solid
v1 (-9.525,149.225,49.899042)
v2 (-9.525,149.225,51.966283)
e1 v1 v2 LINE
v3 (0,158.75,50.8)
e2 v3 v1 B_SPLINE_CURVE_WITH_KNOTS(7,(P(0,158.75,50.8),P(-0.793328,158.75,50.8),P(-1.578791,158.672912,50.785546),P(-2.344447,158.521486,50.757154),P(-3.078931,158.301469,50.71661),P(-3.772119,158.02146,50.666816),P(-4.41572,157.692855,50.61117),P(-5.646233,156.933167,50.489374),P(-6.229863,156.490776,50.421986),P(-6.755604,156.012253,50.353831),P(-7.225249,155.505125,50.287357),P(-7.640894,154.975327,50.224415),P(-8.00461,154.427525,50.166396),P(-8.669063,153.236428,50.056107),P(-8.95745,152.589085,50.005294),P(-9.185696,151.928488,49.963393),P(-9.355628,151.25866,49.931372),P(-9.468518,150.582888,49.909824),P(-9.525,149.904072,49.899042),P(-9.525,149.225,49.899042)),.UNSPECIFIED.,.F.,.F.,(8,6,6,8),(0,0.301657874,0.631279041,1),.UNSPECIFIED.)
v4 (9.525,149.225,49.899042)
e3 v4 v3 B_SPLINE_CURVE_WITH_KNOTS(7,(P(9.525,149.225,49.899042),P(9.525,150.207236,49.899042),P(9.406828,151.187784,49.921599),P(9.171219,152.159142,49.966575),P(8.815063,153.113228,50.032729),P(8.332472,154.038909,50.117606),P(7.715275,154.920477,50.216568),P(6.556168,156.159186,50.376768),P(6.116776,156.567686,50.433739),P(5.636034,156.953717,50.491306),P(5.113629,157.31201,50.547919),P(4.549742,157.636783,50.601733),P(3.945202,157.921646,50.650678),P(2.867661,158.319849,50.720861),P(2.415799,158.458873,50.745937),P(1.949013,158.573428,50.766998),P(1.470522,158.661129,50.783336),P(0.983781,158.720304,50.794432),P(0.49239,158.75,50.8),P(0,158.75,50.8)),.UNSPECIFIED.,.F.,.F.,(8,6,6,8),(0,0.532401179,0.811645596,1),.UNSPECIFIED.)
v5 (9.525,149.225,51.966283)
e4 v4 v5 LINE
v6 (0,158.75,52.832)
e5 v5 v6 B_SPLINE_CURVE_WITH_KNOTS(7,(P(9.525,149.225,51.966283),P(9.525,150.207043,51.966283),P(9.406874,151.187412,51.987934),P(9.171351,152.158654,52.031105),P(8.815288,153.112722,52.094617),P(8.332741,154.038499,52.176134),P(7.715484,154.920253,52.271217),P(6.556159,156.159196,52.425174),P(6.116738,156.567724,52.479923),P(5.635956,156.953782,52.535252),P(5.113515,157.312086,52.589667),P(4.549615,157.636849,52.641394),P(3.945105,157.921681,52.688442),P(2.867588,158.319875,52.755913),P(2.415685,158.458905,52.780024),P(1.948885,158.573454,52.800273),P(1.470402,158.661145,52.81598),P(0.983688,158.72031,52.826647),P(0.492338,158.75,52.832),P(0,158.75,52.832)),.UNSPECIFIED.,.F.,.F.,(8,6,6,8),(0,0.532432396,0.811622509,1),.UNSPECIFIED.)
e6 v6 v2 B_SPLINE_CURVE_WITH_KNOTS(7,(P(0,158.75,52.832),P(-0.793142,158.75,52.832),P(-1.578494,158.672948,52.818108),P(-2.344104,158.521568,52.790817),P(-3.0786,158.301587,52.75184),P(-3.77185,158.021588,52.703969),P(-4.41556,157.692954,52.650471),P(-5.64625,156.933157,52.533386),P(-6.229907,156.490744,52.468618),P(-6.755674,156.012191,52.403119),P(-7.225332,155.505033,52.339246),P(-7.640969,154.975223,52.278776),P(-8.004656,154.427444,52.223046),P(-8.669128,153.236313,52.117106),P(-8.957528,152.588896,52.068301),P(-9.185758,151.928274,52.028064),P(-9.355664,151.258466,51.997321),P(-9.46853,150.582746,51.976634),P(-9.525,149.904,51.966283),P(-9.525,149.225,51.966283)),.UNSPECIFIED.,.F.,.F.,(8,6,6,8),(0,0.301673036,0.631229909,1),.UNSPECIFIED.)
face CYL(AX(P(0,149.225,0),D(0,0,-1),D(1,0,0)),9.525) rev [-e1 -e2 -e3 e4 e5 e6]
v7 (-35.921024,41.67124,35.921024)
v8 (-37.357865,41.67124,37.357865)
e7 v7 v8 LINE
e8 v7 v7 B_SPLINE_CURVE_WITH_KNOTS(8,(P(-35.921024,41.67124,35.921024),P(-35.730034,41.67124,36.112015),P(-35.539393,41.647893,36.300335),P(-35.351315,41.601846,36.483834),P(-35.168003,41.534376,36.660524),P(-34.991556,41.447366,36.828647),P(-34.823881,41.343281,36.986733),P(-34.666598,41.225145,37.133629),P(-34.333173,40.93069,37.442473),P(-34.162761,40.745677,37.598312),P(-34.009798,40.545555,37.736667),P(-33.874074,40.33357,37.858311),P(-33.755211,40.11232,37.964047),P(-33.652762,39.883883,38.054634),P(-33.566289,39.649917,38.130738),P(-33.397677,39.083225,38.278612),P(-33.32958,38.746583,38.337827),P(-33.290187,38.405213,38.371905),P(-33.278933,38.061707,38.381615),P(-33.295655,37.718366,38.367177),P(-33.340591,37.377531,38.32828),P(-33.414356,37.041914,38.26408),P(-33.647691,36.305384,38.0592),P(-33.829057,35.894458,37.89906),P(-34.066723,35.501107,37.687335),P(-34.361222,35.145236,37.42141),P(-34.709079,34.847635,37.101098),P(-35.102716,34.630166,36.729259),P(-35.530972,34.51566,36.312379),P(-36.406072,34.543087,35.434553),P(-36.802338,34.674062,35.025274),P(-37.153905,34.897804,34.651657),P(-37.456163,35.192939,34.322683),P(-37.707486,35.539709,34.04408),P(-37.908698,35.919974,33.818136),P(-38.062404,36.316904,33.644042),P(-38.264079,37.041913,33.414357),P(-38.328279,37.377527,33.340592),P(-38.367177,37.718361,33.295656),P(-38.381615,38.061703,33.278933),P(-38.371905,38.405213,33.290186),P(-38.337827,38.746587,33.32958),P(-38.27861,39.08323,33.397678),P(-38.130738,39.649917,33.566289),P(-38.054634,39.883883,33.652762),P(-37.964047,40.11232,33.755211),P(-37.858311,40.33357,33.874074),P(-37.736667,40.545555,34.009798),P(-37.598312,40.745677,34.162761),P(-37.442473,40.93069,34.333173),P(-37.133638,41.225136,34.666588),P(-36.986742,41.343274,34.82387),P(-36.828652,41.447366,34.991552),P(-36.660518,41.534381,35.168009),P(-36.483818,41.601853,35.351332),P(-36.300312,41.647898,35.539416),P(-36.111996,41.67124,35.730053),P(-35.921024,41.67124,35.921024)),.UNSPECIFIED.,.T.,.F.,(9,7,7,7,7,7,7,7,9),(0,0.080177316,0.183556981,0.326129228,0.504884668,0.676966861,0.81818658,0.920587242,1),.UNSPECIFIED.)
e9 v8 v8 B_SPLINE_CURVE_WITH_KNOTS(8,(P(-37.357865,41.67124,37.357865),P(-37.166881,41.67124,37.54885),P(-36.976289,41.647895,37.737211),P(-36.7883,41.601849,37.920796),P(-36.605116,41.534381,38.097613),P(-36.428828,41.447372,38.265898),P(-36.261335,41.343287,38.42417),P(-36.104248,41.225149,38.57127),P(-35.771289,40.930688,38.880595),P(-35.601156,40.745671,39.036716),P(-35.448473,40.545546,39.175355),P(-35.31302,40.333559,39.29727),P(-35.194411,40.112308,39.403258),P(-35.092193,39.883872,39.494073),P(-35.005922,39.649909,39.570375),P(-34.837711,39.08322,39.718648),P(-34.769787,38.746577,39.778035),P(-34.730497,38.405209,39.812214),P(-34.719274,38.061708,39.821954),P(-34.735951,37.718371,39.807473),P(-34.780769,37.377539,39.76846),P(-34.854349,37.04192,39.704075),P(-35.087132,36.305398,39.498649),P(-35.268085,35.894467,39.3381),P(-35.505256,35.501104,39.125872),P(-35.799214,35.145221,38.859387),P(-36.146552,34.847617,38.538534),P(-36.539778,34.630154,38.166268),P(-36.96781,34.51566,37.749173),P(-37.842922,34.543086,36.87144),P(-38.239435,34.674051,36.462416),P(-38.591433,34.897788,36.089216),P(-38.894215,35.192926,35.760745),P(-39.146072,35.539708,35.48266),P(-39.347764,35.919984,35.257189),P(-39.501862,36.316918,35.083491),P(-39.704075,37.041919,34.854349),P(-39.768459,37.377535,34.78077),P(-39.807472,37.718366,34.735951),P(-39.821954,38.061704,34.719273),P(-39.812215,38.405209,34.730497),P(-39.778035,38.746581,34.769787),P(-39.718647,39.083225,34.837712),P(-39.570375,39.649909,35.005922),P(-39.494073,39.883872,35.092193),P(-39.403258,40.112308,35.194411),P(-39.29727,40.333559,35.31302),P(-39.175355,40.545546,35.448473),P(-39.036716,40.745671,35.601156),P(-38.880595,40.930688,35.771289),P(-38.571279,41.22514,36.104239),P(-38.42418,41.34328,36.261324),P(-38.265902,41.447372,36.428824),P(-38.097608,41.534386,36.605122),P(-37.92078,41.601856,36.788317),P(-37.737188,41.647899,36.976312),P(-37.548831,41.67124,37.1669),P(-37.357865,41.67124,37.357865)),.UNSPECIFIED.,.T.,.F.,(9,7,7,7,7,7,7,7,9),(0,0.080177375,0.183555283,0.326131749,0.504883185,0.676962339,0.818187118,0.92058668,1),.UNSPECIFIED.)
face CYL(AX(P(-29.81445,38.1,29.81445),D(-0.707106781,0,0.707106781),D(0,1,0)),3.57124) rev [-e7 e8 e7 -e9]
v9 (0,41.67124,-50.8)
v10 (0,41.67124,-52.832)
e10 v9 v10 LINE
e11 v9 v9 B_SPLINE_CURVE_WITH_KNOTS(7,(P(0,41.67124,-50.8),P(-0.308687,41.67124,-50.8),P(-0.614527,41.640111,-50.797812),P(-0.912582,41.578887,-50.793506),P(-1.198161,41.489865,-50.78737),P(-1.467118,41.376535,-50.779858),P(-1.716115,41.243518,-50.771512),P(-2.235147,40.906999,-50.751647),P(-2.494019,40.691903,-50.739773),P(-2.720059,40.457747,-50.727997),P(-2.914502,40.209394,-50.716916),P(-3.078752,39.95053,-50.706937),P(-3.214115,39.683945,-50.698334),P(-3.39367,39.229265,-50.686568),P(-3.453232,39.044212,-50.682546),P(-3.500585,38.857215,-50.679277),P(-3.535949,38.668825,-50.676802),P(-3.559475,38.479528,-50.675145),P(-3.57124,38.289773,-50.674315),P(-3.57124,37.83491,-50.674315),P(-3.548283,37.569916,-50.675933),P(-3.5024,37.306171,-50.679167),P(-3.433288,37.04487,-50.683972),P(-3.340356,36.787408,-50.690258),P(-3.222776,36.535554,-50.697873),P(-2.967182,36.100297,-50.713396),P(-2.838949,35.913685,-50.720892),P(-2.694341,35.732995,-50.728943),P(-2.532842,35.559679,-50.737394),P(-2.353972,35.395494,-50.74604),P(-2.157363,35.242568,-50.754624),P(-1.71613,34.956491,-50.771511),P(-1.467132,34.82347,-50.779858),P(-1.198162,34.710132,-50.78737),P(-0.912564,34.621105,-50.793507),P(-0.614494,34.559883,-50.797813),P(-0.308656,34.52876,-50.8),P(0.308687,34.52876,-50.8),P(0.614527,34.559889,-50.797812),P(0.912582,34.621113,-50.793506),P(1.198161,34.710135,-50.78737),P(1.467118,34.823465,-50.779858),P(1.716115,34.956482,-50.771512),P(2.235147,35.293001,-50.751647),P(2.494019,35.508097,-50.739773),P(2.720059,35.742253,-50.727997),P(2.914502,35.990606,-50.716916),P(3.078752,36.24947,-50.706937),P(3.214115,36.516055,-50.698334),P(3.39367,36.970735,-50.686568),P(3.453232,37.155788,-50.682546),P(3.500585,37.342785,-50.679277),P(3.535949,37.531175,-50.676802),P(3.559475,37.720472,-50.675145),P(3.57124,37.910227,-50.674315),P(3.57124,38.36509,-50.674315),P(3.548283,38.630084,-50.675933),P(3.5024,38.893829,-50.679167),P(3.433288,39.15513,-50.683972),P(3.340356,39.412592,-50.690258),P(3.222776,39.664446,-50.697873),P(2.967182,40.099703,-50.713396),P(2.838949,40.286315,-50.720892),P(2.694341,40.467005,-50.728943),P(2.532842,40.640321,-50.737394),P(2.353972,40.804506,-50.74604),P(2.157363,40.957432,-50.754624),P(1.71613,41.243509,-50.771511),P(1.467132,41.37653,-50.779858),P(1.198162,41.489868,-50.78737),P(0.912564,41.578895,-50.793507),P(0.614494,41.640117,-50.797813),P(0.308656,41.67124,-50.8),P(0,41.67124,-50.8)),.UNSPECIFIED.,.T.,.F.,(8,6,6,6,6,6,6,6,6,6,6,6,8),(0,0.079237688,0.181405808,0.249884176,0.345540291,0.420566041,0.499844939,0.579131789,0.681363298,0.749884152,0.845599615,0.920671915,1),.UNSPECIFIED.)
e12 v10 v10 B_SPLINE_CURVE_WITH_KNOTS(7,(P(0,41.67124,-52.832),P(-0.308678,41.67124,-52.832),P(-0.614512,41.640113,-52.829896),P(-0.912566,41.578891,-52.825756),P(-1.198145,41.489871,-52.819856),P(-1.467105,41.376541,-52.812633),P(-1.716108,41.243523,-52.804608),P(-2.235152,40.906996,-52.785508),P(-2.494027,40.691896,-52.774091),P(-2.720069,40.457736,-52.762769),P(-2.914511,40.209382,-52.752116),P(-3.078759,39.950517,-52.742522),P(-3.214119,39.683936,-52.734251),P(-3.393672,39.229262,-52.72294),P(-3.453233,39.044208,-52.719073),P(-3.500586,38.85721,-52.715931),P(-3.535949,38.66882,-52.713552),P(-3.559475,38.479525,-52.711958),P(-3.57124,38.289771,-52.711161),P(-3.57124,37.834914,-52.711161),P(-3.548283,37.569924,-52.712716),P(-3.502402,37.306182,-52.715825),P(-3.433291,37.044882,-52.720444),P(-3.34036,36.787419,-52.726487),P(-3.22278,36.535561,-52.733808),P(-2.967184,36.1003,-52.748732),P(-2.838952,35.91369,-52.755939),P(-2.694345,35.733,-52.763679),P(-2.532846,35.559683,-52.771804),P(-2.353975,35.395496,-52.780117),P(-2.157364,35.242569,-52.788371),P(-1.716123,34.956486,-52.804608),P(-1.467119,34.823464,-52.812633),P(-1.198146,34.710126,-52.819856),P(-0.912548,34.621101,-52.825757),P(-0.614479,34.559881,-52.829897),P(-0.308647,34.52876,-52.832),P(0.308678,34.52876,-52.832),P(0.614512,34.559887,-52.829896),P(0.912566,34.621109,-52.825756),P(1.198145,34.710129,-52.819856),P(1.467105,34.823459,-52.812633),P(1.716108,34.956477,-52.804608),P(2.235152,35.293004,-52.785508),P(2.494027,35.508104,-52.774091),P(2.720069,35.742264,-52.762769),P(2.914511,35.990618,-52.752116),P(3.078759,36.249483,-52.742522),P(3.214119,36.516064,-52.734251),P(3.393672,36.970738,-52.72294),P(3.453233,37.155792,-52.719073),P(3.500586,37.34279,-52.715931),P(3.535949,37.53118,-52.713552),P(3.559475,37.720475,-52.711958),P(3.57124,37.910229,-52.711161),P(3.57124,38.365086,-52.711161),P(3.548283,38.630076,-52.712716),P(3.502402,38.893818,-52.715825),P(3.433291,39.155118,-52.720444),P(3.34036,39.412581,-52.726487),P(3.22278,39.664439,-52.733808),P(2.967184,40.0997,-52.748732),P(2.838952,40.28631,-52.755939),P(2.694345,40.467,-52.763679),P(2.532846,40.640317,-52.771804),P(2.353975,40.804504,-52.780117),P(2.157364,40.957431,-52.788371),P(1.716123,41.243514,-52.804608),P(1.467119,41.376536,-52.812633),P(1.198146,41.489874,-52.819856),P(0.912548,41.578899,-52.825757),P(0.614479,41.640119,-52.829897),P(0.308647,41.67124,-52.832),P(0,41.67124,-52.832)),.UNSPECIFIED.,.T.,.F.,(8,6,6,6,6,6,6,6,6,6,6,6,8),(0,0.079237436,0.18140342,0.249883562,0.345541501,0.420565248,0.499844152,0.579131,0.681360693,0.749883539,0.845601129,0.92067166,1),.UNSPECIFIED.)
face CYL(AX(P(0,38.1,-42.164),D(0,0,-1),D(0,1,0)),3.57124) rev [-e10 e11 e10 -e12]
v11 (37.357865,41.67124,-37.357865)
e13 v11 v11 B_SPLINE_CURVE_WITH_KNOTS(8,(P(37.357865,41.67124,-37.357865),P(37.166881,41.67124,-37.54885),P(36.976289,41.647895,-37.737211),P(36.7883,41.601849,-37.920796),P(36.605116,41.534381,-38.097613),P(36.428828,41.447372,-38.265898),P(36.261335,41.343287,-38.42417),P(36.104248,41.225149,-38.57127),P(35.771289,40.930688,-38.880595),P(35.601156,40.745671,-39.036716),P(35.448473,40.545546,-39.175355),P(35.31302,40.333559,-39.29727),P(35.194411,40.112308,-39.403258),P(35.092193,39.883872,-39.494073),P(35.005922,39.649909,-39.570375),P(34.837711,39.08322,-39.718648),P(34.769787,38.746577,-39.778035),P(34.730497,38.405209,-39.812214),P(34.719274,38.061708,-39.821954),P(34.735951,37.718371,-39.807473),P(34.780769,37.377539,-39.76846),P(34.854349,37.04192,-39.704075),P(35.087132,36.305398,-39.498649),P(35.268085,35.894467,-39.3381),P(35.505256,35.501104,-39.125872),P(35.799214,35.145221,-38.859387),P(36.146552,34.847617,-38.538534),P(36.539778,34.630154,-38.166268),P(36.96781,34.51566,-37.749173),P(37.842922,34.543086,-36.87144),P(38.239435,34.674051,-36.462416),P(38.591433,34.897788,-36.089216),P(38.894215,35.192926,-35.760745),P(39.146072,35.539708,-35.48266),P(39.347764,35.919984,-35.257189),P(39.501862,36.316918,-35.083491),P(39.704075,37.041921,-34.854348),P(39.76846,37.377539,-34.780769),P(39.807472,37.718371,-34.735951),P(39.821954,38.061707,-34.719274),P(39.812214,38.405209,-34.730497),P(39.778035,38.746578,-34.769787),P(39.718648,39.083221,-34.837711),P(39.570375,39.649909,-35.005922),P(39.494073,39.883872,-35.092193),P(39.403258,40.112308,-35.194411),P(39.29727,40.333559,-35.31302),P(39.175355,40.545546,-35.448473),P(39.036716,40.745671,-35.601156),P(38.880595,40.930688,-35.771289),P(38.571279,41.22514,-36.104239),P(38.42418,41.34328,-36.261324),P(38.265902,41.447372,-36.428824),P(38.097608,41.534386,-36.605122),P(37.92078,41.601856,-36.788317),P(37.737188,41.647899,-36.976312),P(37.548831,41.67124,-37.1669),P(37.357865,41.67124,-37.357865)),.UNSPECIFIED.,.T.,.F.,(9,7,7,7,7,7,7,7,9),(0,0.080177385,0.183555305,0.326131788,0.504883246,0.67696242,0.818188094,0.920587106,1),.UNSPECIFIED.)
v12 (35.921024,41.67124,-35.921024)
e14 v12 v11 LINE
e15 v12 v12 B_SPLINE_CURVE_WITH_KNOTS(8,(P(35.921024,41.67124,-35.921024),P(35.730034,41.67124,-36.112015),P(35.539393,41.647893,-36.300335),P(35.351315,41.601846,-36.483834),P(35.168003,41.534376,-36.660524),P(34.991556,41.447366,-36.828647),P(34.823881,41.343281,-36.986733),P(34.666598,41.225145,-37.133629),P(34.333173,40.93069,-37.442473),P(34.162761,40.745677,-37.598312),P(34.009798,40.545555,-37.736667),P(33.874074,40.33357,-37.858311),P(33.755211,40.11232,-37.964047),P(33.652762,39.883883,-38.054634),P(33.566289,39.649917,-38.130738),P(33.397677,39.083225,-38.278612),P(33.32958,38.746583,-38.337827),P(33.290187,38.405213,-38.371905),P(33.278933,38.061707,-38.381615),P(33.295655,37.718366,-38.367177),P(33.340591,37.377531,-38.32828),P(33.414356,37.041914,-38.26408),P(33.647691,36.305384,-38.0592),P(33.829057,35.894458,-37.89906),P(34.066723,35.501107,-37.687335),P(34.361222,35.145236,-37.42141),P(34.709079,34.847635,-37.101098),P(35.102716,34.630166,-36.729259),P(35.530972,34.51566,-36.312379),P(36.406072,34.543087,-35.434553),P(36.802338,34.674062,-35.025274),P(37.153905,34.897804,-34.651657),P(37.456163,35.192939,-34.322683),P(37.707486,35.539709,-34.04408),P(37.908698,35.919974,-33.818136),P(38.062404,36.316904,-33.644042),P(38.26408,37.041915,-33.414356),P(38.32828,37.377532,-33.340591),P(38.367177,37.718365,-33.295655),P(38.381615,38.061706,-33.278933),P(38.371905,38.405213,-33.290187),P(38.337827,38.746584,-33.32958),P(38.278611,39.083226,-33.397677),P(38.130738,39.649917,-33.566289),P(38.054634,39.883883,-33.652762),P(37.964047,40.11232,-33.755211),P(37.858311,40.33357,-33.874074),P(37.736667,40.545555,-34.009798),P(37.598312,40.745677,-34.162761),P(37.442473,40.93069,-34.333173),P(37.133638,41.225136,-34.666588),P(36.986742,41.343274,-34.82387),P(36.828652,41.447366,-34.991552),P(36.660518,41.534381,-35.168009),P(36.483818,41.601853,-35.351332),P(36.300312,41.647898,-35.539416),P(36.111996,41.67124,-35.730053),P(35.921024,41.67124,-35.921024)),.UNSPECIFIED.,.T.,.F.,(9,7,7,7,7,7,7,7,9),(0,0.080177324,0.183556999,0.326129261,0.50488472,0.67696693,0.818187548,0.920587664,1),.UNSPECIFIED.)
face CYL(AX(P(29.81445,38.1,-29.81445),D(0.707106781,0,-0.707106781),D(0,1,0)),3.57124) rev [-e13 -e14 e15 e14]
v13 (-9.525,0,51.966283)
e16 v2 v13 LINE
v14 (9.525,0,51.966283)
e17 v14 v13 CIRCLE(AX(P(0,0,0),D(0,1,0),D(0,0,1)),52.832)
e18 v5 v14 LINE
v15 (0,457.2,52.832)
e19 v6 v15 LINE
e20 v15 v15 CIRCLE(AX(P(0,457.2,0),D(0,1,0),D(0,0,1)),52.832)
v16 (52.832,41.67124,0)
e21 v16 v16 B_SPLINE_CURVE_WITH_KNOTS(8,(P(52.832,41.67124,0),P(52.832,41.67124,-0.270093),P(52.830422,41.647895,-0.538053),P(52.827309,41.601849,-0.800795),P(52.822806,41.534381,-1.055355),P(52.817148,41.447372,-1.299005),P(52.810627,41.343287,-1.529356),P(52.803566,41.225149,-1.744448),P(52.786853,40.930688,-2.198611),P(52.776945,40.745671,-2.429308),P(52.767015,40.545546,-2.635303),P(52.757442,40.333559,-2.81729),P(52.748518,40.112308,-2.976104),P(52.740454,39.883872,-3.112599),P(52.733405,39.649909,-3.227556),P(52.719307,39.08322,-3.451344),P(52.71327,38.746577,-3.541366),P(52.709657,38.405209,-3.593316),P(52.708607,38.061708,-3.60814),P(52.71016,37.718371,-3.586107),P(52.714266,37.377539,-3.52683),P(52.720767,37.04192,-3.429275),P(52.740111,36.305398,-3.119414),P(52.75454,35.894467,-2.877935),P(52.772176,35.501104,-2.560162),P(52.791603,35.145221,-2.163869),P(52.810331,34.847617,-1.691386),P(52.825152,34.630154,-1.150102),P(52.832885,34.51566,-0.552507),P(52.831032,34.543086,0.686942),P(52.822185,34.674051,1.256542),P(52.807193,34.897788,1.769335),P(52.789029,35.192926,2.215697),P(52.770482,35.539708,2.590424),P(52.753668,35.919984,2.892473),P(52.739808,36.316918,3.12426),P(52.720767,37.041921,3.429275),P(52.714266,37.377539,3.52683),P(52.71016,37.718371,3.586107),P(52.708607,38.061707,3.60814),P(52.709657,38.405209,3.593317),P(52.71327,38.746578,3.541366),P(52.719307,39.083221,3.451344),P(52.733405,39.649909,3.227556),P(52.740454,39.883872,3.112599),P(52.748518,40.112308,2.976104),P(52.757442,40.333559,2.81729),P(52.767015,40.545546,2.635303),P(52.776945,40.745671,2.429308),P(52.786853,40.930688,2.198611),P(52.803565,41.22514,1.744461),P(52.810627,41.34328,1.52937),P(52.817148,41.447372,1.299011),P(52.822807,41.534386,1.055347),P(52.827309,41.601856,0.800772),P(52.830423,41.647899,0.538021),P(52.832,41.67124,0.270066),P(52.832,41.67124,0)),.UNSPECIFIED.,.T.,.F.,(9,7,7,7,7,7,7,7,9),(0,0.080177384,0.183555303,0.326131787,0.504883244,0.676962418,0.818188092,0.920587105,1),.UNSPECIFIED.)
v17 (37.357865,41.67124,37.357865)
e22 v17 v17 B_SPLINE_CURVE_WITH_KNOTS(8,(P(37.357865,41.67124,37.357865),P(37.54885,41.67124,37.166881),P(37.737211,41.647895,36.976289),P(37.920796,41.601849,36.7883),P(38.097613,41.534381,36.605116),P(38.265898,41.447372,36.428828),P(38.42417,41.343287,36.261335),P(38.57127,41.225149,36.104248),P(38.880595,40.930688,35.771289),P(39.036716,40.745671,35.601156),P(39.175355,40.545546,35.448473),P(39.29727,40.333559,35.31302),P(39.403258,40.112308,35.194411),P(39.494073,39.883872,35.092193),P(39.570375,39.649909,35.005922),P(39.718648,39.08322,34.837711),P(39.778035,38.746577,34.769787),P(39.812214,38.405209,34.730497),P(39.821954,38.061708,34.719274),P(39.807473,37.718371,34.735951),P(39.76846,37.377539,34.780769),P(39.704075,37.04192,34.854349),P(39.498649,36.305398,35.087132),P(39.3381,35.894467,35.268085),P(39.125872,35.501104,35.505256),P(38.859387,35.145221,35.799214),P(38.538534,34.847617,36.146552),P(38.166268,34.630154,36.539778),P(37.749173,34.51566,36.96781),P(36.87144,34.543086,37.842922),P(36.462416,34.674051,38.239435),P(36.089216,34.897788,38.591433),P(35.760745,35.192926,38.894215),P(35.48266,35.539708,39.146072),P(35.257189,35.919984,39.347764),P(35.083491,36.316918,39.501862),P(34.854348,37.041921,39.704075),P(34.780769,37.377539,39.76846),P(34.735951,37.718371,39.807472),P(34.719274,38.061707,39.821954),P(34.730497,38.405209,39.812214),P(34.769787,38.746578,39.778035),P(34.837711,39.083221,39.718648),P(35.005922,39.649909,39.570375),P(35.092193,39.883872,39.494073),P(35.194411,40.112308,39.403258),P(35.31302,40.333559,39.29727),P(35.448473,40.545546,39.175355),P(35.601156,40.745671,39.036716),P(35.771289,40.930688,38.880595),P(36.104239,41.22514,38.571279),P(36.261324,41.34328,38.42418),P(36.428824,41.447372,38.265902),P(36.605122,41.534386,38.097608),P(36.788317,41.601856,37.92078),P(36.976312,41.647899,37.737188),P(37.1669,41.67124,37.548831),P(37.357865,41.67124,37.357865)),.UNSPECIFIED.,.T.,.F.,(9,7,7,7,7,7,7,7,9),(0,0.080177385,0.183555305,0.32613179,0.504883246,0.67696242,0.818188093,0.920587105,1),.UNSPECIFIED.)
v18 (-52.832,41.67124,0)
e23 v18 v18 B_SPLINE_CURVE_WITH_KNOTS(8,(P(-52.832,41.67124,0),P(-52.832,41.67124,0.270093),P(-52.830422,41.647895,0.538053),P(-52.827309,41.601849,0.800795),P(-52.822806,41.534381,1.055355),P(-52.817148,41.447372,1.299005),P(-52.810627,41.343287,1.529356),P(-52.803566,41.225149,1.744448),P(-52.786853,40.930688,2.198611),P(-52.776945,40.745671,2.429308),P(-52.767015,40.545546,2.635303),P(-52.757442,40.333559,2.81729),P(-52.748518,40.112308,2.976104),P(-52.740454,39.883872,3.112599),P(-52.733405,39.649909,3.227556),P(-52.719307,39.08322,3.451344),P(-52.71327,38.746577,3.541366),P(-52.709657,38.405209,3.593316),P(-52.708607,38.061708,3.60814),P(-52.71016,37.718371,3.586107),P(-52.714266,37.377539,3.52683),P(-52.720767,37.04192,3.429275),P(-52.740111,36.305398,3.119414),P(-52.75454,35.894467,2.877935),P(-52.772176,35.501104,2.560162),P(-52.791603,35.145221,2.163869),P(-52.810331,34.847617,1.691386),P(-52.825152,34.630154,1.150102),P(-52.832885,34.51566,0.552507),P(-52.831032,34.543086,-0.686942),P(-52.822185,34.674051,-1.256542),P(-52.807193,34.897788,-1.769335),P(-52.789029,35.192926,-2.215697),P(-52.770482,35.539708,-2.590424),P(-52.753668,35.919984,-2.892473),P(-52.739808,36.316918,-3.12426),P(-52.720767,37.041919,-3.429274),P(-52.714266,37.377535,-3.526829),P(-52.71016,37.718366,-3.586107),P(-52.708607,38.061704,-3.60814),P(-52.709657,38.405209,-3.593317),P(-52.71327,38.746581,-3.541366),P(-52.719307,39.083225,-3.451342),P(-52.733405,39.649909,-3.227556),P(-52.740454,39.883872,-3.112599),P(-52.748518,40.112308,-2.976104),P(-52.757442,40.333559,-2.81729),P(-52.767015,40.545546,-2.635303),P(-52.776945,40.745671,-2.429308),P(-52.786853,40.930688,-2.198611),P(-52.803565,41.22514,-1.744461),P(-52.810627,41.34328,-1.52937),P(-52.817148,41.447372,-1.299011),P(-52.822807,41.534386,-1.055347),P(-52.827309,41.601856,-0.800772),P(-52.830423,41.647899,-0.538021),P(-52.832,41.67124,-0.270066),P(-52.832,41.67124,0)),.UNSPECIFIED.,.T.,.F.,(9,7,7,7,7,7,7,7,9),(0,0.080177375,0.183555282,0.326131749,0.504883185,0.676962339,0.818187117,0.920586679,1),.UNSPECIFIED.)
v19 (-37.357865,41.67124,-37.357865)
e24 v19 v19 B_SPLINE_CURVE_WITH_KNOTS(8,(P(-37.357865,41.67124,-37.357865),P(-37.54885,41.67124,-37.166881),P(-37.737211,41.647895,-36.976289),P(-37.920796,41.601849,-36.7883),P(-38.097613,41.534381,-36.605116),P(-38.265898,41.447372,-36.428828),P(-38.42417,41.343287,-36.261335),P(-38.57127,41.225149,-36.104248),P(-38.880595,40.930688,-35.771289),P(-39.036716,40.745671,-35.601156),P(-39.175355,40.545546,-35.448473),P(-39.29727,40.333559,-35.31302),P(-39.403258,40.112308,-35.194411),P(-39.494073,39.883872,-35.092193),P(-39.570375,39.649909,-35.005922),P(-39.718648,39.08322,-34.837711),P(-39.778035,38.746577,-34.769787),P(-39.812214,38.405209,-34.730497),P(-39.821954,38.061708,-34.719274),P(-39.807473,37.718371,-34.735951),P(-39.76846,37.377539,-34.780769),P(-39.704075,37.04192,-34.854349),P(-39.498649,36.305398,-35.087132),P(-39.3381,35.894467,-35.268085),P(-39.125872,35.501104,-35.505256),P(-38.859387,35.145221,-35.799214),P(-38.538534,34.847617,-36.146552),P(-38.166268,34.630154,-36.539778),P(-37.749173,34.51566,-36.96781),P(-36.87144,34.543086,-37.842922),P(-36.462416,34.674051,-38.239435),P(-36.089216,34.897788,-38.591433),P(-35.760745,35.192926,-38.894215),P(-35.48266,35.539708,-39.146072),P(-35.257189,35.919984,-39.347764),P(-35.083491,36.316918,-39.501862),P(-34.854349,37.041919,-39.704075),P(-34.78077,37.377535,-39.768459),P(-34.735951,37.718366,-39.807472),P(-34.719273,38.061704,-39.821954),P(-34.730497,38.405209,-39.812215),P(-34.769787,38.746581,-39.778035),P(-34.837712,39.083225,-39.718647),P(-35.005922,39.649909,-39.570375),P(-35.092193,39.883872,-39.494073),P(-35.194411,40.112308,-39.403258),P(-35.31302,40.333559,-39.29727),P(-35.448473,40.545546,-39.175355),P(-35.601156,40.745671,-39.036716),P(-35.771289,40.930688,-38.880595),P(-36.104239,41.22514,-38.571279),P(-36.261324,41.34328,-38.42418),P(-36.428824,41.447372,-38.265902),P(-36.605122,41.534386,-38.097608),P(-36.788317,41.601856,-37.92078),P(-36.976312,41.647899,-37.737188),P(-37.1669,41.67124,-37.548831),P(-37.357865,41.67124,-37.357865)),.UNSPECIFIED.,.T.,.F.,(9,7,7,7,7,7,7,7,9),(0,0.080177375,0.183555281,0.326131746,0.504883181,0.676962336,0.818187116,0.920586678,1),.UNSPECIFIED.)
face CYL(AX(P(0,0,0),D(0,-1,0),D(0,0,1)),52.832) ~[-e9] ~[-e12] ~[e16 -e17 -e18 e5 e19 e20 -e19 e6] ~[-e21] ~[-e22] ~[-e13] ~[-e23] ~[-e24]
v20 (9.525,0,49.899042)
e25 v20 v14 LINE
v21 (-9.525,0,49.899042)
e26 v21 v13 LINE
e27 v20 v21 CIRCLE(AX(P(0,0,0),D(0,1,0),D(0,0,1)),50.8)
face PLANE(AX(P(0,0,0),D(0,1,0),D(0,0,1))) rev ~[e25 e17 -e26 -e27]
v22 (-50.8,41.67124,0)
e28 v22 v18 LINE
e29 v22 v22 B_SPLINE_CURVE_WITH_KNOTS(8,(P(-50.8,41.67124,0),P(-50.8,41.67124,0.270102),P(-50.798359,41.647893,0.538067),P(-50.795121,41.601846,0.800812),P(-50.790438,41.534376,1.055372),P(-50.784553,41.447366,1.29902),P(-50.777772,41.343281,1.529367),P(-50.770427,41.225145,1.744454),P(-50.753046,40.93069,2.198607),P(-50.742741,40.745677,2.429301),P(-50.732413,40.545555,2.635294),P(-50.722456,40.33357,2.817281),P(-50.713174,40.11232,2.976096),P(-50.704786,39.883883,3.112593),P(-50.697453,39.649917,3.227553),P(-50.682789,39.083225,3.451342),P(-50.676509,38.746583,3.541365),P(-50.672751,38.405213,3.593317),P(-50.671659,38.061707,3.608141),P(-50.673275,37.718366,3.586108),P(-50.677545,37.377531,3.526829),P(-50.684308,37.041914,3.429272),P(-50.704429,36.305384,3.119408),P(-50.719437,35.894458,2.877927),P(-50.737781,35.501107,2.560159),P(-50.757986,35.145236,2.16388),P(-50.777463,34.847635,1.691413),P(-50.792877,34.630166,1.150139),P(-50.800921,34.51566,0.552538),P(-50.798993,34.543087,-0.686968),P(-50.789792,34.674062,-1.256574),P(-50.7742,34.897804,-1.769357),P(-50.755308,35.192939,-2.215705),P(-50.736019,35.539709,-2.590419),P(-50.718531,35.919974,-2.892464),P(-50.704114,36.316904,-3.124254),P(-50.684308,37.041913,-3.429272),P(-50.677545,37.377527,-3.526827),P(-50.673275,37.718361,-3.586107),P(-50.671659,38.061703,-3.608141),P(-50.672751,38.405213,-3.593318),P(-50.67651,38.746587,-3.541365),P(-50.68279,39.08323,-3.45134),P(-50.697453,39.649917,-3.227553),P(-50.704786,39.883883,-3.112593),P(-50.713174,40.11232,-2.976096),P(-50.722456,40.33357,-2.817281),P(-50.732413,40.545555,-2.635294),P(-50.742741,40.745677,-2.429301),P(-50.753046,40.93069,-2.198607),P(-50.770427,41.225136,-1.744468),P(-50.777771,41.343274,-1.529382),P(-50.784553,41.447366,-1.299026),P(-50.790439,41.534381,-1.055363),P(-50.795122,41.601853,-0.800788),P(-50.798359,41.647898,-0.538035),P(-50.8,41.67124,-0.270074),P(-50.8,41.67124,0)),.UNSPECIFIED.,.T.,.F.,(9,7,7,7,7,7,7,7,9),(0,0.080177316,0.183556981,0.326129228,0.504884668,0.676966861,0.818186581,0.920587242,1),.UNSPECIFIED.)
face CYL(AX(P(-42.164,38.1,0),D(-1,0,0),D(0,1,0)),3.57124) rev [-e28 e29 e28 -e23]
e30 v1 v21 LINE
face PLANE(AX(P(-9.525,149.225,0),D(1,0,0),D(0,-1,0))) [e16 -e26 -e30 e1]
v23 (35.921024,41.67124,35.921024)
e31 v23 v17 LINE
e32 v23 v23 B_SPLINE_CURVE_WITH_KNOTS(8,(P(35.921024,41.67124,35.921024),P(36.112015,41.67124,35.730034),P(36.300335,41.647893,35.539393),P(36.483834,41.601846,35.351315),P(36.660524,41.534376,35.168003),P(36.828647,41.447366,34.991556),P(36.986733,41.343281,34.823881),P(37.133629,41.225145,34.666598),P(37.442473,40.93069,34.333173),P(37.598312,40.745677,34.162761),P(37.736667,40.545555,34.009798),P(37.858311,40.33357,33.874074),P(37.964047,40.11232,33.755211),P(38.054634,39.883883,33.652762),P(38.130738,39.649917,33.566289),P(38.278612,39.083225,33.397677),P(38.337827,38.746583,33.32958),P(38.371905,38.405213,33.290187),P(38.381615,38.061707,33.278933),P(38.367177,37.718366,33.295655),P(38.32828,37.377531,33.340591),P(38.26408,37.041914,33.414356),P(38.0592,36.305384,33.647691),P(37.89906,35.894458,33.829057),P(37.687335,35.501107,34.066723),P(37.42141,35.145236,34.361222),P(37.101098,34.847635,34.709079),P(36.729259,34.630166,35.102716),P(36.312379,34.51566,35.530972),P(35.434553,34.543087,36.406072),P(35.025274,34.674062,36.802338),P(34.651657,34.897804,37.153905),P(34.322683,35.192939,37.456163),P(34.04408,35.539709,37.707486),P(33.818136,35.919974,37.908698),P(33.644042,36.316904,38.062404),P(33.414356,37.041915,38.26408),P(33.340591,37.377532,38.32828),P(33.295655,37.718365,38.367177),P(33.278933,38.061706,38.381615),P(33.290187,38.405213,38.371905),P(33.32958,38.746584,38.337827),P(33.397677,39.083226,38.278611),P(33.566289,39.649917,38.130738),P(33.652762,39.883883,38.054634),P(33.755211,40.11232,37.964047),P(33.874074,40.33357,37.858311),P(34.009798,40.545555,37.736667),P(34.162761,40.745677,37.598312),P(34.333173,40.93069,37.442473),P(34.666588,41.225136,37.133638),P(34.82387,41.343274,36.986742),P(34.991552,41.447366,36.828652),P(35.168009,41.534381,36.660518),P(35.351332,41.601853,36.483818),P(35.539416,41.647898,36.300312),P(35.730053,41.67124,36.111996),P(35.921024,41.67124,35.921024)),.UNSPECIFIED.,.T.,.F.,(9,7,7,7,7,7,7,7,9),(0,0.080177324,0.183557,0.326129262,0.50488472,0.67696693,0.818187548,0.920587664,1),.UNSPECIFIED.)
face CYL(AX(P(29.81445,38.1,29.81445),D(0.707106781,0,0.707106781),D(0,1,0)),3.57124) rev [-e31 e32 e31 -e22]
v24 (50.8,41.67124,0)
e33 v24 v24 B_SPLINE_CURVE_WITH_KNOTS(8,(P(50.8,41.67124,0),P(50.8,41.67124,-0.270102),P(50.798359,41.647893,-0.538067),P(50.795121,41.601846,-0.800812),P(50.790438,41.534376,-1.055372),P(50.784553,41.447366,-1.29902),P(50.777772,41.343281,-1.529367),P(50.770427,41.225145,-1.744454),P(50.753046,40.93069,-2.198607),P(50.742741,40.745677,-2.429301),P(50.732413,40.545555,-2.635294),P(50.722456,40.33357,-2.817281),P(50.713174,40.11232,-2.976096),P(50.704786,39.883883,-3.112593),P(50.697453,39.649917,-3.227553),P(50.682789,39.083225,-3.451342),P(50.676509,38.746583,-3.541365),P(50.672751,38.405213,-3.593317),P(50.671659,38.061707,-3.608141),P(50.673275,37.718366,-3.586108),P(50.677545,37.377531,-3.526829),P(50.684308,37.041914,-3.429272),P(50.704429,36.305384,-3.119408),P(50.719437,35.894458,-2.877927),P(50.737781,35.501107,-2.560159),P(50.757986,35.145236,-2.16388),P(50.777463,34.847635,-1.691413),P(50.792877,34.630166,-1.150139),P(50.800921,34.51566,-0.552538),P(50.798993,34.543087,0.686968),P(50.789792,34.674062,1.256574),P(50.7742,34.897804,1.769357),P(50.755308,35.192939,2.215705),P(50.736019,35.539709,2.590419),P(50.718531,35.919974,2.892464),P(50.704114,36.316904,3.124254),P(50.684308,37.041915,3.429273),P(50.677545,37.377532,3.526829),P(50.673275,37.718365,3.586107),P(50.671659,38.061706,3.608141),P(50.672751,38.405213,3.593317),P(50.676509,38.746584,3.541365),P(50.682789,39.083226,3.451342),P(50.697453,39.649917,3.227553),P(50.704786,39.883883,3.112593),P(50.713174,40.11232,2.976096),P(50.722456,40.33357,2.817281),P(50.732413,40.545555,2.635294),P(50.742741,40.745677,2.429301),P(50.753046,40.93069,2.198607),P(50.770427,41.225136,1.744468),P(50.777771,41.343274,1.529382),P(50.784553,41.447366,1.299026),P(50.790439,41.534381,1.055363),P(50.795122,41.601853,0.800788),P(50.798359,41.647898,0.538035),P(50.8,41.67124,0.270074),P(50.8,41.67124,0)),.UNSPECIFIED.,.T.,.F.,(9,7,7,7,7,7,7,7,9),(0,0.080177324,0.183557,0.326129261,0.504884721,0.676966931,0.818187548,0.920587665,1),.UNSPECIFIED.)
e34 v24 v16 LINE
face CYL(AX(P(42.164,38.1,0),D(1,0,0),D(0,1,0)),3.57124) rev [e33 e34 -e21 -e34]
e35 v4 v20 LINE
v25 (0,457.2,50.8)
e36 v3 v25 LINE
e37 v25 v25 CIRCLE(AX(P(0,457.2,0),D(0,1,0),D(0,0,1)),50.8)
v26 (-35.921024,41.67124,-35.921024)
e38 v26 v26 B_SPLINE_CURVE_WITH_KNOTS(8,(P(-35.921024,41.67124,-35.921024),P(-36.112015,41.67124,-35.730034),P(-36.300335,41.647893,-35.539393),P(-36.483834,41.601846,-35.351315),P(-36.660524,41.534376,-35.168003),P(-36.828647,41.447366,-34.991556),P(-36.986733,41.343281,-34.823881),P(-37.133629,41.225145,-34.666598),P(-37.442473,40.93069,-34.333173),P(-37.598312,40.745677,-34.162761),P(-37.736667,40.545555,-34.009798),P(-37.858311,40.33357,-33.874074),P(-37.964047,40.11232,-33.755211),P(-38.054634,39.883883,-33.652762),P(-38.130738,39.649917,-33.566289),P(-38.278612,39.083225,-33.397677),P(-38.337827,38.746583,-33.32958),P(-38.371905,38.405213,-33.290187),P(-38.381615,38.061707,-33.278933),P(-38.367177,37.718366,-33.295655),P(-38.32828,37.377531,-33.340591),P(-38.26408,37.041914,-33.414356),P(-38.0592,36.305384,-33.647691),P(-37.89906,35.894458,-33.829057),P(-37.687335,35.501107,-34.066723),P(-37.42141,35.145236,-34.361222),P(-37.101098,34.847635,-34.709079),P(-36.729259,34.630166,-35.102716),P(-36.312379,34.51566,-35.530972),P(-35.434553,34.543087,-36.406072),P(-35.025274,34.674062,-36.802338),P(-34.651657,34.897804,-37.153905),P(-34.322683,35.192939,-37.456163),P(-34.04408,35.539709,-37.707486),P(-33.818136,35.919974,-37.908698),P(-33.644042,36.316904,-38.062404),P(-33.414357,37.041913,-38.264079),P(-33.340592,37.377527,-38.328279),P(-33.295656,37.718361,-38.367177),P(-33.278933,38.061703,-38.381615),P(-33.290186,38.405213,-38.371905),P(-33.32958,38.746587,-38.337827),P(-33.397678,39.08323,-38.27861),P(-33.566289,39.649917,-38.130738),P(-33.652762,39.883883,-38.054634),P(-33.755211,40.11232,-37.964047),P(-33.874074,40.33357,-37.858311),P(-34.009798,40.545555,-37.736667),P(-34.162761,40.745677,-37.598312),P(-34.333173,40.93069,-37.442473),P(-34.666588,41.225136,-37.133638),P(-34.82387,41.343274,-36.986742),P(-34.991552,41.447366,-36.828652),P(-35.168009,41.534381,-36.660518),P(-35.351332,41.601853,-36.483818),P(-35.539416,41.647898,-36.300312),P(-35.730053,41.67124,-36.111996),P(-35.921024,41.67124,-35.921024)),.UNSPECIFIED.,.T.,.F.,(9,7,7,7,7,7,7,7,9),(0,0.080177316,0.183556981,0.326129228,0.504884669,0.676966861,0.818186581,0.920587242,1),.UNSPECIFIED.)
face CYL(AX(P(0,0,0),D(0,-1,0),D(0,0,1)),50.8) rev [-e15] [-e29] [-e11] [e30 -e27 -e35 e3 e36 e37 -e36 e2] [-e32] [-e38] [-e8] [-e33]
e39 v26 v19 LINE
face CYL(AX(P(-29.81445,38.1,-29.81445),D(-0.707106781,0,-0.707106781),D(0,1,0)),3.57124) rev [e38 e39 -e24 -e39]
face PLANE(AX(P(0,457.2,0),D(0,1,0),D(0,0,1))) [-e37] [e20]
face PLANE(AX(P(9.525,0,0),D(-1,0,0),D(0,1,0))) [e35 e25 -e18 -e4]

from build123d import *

# Parameters (mm, degrees)
SKETCH1_R           = 52.832
SKETCH1_R_2         = 50.8
BOSS_EXTRUDE1_DEPTH = 457.2
CUT_EXTRUDE1_DEPTH  = 464.264805967
CIRPATTERN1_COUNT   = 8


with BuildPart() as part:
    # Sketch1 → Boss-Extrude1 (new body)
    with BuildSketch(Plane(origin=(0, 0, 0), x_dir=(1, 0, 0), z_dir=(0, 1, 0))):
        with Locations(Location((0, 0, 0), (0, 0, 270))):
            Circle(SKETCH1_R)
        with Locations(Location((0, 0, 0), (0, 0, 270))):
            Circle(SKETCH1_R_2, mode=Mode.SUBTRACT)
    extrude(amount=BOSS_EXTRUDE1_DEPTH)

    # Sketch2 → Cut-Extrude1 (cut, through all)
    with BuildSketch(Plane.XY):
        with BuildLine():
            Line((-9.525, 149.225), (-9.525, 0))
            Line((-9.525, 0), (9.525, 0))
            Line((9.525, 0), (9.525, 149.225))
            ThreePointArc((9.525, 149.225), (0, 158.75), (-9.525, 149.225))
        make_face()
    extrude(amount=CUT_EXTRUDE1_DEPTH, mode=Mode.SUBTRACT)

    # Sketch4 → 1/4 Clearance Hole1 (revolve, cut)
    with BuildSketch(Plane(origin=(0, 38.1, -52.832), x_dir=(0, 1, 0), z_dir=(1, 0, 0))):
        Polygon((0, 0), (0, 12.813817477), (3.57124, 10.668), (3.57124, 0), align=None)
    f_1_4_clearance_hole1 = revolve(axis=Axis((0, 38.1, -59.182), (0, 0, 1)), mode=Mode.SUBTRACT)

    # CirPattern1: 1/4 Clearance Hole1 ×8 about axis, 1 skipped
    cirpattern1_axis = Axis((0, 457.2, 0), (0, -1, 0))
    add([f_1_4_clearance_hole1.rotate(cirpattern1_axis, i * 360 / CIRPATTERN1_COUNT) for i in range(1, CIRPATTERN1_COUNT) if i not in (4,)], mode=Mode.SUBTRACT)


solid = part.part
